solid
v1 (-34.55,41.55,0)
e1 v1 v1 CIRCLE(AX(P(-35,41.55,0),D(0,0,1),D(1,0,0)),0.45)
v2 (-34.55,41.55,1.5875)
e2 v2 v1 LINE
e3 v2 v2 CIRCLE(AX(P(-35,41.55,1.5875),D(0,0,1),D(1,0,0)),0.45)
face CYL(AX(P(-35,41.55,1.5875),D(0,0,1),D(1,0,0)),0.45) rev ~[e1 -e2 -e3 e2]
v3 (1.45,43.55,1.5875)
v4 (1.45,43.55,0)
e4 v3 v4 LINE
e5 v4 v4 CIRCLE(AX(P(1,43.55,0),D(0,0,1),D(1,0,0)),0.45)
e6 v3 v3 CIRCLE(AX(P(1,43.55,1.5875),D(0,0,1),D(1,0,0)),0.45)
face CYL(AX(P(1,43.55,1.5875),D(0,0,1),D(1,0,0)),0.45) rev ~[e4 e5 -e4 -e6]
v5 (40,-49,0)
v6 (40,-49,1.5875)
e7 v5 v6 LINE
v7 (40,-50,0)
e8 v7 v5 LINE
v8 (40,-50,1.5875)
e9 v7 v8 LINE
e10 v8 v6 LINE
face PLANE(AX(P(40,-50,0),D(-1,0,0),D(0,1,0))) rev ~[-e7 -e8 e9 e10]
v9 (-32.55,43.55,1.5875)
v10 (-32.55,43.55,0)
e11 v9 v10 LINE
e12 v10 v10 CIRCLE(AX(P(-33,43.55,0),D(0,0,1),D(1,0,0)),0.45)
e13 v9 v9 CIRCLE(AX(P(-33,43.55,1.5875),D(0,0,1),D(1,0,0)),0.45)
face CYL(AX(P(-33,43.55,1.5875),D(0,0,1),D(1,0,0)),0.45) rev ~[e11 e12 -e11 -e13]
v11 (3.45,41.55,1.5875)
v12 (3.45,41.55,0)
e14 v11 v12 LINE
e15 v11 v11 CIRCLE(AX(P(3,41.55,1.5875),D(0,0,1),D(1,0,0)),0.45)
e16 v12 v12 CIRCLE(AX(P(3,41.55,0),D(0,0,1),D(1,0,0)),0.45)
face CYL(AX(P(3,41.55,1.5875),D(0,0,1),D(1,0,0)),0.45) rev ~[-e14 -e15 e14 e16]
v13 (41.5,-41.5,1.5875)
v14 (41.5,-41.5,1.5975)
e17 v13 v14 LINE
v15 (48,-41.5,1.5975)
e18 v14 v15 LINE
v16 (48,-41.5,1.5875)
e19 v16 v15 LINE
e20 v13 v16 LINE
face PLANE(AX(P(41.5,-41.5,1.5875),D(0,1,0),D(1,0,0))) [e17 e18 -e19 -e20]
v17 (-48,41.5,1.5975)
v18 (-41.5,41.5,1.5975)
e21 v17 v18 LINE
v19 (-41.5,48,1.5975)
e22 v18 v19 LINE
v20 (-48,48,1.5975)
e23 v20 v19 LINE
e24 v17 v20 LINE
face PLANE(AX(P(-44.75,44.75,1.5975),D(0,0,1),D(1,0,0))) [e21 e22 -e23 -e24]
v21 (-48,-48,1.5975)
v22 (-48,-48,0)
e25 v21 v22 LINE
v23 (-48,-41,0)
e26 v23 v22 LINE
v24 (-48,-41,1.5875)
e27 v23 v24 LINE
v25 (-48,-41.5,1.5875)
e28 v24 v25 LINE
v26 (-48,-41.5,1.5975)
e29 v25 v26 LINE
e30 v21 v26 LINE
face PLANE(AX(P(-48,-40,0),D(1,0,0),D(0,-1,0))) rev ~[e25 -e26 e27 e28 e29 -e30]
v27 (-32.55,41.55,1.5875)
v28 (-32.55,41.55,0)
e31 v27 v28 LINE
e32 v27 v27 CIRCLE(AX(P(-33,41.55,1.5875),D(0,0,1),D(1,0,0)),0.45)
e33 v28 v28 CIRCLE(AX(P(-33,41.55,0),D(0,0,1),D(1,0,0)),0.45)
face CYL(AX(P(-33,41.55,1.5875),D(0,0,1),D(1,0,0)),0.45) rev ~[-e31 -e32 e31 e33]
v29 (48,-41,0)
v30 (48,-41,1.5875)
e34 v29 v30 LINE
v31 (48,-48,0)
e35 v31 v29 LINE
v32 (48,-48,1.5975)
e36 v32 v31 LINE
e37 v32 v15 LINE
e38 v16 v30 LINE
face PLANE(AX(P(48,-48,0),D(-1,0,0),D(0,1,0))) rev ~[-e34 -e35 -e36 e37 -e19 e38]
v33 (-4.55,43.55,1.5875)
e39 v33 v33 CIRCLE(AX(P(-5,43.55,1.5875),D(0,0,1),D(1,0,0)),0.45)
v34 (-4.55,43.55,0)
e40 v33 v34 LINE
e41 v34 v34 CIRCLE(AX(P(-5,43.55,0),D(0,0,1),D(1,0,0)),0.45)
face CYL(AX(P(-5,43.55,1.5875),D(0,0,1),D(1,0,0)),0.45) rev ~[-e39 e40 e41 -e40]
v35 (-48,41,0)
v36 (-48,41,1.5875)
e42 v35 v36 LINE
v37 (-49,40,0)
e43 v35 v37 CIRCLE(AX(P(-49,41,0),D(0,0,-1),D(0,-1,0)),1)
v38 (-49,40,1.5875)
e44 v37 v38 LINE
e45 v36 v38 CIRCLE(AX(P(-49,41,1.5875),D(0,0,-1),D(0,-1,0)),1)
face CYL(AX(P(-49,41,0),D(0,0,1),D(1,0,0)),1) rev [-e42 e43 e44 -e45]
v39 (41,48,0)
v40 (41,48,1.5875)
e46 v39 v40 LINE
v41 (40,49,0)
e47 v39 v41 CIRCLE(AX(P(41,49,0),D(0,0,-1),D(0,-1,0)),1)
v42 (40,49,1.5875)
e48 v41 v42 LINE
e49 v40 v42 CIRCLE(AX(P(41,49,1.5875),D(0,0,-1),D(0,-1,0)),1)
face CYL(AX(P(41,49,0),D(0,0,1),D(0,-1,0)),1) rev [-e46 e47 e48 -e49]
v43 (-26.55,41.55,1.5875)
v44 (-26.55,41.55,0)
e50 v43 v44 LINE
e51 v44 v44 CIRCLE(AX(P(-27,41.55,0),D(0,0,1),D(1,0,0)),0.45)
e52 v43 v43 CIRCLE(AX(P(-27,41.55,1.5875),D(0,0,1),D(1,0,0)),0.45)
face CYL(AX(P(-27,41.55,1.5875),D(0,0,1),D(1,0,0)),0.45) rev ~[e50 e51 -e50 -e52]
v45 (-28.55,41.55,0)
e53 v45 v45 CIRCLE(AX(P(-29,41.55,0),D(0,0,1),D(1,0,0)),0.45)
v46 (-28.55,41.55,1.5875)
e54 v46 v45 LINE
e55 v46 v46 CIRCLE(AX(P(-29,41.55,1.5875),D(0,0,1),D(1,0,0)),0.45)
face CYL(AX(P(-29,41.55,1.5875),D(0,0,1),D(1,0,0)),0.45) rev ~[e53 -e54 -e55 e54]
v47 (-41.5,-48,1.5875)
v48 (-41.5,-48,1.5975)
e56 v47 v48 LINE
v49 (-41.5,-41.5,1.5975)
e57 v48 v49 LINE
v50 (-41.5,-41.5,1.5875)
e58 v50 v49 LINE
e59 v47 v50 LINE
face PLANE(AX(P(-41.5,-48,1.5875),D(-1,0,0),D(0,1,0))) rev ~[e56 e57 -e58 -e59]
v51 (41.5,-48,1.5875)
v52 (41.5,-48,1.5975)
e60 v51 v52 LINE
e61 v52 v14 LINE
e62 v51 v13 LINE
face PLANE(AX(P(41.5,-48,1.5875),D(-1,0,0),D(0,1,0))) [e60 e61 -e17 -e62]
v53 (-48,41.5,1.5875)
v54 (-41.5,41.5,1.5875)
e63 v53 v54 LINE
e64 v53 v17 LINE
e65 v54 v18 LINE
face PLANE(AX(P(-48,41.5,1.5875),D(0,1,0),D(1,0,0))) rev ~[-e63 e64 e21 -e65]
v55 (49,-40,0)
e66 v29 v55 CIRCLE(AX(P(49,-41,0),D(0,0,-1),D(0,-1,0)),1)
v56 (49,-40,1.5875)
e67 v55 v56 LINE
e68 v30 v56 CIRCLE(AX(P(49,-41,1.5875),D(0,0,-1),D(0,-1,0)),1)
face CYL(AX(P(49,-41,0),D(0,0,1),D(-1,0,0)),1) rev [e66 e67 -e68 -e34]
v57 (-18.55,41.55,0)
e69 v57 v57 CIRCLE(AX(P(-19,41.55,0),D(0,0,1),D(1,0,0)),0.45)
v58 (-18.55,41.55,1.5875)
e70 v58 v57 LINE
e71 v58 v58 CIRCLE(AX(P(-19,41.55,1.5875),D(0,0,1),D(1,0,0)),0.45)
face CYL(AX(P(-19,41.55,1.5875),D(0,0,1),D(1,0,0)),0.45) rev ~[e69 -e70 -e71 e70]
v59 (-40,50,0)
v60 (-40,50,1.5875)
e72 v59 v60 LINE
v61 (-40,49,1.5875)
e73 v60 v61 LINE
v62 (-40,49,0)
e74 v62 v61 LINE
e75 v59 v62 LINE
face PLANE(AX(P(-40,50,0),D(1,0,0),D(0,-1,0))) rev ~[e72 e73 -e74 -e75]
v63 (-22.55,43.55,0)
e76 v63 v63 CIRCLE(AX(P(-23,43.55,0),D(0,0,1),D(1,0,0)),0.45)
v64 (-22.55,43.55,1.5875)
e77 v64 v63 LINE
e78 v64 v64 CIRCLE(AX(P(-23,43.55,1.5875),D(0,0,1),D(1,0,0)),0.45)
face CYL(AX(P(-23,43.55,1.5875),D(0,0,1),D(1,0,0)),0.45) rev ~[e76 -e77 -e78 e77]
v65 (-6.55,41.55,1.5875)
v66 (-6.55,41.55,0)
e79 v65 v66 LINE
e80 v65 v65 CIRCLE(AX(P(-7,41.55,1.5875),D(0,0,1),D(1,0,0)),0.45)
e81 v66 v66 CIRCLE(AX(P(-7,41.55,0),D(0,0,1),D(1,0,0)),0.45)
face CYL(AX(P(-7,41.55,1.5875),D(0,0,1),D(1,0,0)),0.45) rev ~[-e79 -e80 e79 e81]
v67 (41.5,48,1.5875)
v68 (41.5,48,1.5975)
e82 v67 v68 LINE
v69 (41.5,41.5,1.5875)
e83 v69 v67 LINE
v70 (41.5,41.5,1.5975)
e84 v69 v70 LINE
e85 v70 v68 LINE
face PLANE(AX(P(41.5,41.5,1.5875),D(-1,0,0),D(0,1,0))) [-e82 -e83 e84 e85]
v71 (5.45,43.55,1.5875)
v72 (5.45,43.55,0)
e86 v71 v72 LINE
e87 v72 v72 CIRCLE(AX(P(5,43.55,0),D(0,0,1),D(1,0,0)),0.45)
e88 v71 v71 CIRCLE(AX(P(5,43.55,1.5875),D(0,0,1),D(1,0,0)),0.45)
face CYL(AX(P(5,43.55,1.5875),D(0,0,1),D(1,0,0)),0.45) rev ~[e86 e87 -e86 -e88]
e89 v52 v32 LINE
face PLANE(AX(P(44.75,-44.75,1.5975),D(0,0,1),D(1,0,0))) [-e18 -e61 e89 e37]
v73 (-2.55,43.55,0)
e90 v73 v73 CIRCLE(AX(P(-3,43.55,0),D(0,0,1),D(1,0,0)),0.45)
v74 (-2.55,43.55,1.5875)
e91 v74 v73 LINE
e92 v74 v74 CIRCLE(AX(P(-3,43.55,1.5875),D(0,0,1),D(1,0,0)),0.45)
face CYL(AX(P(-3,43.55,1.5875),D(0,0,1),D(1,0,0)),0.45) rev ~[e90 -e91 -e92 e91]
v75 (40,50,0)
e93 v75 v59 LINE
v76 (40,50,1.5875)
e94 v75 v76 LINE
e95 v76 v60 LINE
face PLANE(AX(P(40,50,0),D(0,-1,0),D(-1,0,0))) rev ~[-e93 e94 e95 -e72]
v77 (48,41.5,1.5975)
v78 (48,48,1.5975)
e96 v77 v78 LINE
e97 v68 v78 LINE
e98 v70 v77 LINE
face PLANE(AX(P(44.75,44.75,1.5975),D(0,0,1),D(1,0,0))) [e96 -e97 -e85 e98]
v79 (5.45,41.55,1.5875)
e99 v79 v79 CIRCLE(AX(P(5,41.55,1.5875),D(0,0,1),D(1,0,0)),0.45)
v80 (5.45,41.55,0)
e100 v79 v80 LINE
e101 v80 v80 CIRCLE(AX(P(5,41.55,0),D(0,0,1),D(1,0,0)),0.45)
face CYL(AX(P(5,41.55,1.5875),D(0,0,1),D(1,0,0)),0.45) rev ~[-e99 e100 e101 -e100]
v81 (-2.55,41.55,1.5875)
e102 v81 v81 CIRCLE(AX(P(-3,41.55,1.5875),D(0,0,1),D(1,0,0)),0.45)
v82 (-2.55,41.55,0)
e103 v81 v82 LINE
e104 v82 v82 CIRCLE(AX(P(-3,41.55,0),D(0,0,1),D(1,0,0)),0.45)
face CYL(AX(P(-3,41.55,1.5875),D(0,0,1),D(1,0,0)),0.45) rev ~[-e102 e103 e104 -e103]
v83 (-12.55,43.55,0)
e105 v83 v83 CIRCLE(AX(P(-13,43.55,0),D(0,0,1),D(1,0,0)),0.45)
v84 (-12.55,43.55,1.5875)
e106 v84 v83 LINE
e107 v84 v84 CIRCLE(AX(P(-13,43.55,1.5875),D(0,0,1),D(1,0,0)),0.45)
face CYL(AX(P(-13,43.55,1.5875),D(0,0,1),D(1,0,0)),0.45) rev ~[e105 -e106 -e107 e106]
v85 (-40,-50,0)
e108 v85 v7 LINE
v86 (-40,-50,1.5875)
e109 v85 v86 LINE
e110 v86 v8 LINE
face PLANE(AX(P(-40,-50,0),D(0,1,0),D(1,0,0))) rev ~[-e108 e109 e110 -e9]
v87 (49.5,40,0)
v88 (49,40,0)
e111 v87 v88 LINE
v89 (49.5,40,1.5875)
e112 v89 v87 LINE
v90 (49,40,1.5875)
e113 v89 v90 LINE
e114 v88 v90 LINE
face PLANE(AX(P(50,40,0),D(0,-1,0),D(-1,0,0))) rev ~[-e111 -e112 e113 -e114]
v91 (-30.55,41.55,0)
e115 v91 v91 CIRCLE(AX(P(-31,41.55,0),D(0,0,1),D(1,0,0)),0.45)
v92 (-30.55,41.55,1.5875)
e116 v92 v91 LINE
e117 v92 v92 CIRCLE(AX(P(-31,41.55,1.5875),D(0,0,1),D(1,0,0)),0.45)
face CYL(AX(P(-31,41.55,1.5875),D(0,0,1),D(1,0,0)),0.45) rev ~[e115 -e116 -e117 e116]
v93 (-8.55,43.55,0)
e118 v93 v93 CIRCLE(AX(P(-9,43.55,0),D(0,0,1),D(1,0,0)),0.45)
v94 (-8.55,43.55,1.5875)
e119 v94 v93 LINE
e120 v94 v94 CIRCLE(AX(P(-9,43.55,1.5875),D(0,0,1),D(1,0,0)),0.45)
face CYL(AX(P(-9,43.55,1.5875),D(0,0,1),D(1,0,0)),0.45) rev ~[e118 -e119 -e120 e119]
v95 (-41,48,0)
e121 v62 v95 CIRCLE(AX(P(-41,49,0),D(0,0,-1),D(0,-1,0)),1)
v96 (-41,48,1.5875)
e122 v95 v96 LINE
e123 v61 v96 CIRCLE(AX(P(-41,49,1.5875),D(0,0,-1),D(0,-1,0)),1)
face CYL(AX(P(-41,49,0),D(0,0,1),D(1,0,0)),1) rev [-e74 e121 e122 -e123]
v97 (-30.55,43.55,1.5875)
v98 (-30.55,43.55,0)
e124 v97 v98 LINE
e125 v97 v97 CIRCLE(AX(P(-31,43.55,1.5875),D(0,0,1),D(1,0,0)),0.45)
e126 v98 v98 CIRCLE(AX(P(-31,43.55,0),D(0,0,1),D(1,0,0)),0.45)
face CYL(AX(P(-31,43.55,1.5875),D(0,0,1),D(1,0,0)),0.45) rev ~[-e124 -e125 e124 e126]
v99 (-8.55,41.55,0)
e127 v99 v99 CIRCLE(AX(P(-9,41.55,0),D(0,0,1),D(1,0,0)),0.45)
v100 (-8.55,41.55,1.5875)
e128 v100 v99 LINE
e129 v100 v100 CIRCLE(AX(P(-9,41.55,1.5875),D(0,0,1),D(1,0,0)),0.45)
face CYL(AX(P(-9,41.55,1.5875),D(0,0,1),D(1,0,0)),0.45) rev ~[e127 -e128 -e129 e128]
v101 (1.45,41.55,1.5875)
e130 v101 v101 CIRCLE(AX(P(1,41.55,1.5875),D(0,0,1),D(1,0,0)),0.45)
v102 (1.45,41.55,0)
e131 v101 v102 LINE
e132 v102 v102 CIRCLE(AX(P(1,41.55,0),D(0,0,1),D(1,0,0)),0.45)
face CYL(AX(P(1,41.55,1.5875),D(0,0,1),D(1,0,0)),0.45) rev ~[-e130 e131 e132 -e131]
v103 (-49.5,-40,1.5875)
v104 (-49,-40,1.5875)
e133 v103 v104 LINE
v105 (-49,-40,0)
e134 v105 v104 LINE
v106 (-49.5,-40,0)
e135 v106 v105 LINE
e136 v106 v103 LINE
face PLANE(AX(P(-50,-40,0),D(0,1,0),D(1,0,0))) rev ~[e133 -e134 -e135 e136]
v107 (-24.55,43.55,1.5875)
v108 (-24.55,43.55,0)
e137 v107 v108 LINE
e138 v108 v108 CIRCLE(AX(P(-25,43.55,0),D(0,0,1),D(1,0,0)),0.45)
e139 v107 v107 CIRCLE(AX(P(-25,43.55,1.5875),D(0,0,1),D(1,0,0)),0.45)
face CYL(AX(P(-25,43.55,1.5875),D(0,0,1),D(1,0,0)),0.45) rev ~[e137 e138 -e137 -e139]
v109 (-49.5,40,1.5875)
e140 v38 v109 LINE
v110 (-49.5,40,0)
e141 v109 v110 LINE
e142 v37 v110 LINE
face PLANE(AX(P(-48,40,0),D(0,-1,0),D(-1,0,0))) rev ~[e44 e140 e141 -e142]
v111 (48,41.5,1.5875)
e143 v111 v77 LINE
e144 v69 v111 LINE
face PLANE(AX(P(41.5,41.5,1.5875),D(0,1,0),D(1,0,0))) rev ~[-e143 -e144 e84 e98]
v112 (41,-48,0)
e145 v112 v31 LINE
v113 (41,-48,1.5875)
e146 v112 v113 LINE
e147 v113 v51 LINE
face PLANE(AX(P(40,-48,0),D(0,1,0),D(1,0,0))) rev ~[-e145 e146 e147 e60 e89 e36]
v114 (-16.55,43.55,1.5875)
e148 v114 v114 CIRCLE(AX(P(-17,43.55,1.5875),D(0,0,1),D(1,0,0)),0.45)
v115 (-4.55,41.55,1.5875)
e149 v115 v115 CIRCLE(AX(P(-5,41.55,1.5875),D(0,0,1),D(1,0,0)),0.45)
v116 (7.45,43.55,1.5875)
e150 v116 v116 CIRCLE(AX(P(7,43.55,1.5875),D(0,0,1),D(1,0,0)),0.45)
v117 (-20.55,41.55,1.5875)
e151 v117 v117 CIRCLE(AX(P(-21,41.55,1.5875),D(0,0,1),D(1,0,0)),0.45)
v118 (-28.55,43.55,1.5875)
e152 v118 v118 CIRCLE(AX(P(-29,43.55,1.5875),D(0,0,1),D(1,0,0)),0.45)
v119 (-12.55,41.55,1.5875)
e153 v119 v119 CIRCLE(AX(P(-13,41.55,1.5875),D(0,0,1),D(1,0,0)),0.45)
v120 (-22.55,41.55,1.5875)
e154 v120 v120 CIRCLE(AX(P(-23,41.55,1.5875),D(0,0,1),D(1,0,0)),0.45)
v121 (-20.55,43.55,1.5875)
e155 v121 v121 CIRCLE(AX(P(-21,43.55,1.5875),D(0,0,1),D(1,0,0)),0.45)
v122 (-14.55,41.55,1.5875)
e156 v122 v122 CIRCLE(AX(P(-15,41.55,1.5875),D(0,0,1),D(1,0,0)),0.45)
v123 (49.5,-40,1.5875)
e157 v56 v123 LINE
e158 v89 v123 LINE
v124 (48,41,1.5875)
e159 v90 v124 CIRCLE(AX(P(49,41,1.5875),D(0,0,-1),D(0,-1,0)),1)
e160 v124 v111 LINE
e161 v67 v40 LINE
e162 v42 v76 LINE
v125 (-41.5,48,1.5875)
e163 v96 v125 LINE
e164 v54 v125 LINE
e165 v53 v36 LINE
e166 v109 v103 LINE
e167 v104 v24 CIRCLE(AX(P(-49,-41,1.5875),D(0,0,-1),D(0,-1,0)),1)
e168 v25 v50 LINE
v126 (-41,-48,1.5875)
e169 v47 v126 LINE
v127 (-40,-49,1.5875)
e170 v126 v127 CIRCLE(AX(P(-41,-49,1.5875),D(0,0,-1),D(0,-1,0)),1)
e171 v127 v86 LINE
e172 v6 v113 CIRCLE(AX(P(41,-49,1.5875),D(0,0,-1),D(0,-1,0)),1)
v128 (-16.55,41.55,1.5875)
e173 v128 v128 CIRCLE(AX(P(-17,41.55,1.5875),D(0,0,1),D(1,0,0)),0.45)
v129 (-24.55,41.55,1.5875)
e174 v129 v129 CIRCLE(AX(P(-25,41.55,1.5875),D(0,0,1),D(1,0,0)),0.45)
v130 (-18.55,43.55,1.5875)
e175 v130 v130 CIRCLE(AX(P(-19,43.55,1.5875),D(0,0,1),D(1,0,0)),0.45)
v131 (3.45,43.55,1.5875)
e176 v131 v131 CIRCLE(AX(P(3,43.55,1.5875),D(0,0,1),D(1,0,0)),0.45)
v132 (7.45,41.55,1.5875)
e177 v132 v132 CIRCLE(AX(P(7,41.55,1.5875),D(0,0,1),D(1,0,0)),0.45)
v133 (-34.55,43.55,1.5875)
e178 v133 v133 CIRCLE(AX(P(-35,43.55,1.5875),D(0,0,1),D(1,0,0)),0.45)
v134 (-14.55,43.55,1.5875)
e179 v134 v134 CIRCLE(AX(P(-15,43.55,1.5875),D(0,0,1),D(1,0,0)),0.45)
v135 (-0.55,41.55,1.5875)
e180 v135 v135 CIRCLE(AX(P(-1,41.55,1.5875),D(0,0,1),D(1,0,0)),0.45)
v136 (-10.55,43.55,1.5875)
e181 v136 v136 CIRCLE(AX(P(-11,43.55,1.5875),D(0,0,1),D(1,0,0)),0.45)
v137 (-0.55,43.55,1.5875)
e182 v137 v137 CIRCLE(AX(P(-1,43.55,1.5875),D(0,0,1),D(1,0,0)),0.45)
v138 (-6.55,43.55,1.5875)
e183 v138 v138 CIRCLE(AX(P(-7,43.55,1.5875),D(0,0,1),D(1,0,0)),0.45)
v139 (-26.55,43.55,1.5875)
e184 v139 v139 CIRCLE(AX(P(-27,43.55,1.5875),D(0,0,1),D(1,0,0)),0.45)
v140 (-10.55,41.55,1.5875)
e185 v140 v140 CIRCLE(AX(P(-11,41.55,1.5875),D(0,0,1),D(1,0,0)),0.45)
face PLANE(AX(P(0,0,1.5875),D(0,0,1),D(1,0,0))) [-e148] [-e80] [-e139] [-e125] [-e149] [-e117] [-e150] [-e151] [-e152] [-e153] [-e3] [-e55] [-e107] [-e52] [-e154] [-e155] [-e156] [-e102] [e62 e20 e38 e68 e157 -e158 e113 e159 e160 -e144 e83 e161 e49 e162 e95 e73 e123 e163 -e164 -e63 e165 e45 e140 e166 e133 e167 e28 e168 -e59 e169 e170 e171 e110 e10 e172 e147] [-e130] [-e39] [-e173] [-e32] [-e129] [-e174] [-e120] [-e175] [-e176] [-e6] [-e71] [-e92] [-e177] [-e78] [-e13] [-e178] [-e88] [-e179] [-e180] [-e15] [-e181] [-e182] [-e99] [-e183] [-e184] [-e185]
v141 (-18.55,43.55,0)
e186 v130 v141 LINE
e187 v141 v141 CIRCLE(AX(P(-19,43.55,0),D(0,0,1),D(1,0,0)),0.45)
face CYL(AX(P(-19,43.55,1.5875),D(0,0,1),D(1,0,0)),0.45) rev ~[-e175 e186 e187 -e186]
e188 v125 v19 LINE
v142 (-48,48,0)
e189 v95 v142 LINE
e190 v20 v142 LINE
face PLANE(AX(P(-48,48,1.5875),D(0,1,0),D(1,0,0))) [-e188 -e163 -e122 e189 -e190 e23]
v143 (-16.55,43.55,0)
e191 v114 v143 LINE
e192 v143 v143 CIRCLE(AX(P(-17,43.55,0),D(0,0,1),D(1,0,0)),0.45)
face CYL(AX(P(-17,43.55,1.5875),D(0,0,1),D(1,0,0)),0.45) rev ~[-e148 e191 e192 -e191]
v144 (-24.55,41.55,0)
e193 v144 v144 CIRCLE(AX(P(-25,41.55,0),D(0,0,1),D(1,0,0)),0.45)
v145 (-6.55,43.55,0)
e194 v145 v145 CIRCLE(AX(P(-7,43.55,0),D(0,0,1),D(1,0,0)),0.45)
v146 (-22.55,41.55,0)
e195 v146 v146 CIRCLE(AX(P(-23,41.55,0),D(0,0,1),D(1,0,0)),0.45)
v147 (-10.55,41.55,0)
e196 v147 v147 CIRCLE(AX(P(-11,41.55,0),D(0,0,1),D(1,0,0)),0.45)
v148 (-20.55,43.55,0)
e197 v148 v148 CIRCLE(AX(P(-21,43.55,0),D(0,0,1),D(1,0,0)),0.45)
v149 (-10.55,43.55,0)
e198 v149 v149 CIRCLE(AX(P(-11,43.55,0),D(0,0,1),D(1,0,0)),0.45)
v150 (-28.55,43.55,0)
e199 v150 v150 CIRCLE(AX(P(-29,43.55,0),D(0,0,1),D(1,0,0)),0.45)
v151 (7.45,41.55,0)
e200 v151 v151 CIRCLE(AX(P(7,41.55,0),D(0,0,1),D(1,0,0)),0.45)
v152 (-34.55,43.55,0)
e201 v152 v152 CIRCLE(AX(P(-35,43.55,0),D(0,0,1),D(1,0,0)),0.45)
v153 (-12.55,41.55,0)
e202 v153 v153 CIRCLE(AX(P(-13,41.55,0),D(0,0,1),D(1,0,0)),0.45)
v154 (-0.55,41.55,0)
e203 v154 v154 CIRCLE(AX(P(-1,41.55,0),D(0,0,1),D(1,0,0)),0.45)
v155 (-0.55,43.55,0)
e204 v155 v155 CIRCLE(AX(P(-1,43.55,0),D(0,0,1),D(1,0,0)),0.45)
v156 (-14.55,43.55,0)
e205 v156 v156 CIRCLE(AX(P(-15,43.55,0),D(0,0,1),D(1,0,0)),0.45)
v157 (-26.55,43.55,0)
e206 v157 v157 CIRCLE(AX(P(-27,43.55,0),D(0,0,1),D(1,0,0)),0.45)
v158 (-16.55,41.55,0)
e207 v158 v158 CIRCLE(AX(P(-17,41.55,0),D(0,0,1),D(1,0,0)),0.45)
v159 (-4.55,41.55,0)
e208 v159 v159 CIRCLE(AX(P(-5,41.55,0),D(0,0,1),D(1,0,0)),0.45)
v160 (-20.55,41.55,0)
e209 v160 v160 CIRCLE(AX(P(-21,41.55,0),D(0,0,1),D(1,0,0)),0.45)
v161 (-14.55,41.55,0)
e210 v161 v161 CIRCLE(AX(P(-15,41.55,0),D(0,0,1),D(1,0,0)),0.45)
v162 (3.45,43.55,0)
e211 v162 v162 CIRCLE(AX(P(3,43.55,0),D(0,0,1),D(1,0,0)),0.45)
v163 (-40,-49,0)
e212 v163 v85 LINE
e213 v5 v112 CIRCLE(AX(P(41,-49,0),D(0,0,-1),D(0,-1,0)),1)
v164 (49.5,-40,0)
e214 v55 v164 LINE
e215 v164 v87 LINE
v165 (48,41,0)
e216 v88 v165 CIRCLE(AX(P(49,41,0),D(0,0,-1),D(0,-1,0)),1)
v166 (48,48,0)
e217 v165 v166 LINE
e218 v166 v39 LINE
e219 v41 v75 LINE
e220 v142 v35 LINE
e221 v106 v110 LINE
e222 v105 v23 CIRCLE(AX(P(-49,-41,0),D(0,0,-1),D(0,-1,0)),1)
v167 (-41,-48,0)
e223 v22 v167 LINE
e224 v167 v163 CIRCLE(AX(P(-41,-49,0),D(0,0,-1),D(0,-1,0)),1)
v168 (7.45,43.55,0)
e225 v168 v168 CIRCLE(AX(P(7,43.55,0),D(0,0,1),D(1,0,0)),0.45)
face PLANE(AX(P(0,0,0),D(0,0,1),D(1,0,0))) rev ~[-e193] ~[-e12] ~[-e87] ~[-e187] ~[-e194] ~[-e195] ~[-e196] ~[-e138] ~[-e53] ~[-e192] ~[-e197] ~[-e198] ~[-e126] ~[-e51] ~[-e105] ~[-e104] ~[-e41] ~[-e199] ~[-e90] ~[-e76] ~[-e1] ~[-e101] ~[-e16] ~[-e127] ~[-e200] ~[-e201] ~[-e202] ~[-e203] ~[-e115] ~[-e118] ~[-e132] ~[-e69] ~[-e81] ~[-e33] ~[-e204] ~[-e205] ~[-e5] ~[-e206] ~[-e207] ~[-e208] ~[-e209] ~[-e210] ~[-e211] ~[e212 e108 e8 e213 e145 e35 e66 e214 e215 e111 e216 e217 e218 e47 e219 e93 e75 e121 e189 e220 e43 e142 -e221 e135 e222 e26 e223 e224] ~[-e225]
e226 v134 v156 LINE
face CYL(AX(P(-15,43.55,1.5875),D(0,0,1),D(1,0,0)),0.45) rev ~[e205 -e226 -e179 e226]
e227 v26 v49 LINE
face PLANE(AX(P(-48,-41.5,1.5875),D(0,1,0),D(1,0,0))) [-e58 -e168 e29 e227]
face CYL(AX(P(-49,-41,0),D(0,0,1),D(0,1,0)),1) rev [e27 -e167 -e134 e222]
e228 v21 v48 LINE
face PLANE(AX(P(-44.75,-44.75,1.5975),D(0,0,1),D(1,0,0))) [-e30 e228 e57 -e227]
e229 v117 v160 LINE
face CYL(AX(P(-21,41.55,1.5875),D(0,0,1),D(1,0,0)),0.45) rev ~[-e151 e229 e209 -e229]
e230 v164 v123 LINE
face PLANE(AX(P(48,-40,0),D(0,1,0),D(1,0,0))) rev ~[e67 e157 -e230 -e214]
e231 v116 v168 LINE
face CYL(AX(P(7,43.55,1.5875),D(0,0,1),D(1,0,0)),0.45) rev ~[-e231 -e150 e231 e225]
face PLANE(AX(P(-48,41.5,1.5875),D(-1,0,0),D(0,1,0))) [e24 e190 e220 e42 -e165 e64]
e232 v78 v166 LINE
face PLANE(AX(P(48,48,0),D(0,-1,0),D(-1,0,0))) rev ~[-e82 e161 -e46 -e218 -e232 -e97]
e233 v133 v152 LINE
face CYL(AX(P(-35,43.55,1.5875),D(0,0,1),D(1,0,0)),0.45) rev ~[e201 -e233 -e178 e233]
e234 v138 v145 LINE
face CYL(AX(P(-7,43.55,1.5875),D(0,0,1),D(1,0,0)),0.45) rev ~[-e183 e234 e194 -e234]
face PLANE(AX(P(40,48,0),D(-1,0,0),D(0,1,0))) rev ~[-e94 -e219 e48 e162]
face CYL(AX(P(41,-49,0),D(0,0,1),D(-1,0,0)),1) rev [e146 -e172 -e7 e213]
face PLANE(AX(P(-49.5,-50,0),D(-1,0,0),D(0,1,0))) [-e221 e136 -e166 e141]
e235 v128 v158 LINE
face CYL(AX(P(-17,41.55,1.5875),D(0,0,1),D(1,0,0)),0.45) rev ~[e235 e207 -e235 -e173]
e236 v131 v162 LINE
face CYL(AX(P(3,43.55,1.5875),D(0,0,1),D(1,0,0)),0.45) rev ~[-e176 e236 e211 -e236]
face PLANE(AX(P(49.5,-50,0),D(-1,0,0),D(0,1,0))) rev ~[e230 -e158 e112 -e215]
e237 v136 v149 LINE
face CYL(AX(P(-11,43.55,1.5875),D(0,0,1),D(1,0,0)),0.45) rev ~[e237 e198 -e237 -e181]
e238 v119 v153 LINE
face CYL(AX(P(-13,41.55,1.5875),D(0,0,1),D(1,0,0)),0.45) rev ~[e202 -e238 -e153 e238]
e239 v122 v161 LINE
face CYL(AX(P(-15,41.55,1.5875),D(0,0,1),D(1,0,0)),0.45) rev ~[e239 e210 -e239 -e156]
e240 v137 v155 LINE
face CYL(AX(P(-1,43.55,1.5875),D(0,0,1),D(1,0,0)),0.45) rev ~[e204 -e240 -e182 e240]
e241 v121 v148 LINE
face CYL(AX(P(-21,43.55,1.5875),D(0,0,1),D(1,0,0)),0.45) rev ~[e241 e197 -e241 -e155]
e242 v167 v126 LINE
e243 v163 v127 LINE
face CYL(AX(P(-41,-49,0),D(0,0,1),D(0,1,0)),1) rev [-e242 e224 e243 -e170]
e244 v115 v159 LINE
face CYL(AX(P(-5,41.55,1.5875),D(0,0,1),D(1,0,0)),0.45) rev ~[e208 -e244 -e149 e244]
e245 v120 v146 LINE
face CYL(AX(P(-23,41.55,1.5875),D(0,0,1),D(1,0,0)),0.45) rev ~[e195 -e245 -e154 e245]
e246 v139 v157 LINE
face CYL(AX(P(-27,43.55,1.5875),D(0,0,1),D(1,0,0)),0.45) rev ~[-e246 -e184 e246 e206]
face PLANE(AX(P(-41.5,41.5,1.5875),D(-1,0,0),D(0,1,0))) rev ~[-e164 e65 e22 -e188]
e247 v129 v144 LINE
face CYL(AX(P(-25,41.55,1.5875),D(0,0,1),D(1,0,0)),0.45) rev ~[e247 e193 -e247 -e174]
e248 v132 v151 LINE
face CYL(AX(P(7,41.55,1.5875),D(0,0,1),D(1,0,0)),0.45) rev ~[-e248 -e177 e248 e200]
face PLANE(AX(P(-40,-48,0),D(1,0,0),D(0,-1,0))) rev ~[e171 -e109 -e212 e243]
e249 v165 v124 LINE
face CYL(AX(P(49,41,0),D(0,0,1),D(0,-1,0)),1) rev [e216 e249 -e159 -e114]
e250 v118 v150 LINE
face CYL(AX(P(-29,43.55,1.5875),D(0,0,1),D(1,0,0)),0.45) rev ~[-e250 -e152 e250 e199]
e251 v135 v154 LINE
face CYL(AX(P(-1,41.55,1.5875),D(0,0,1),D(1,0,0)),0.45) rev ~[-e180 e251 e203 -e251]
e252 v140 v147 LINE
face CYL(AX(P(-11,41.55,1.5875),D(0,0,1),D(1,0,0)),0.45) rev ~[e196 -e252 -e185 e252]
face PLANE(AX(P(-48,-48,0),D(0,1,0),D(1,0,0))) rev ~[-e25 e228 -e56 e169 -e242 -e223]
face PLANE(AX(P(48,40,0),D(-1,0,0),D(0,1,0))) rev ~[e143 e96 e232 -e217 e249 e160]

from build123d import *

# Parameters (mm, degrees)
BOSS_EXTRUDE1_DEPTH = 1.5875
FILLET1_R           = 1
SKETCH2_R           = 0.45
CUT_EXTRUDE1_DEPTH  = 71.728496069
SKETCH4_W           = 6.5
SKETCH4_H           = 6.5
BOSS_EXTRUDE2_DEPTH = 0.01
SKETCH5_OUTSIDE_W   = 130.286
SKETCH5_OUTSIDE_H   = 130.286
SKETCH5_OUTSIDE_W_2 = 99
SKETCH5_OUTSIDE_H_2 = 100
CUT_EXTRUDE3_DEPTH  = 71.728721226


with BuildPart() as part:
    # Sketch1 → Boss-Extrude1 (new body)
    with BuildSketch(Plane.XY):
        Polygon((40, 50), (-40, 50), (-40, 48), (-48, 48), (-48, 40), (-50, 40), (-50, -37.864895224), (-50, -40), (-48, -40), (-48, -48), (-40, -48), (-40, -50), (-37.864895224, -50), (40, -50), (40, -48), (48, -48), (48, -40), (50, -40), (50, 40), (48, 40), (48, 48), (40, 48), align=None)
    extrude(amount=BOSS_EXTRUDE1_DEPTH)

    # Fillet1
    fillet1_edges = [part.edges().sort_by_distance(p)[0] for p in [
        (-48, -40, 0.79375),
        (-48, 40, 0.79375),
        (-40, 48, 0.79375),
        (40, 48, 0.79375),
        (48, 40, 0.79375),
        (48, -40, 0.79375),
        (40, -48, 0.79375),
        (-40, -48, 0.79375),
    ]]
    fillet(fillet1_edges, radius=FILLET1_R)

    # Sketch2 → Cut-Extrude1 (cut, through all)
    with BuildSketch(Plane.XY.offset(1.5875)):
        with Locations((-35, 43.55)):
            Circle(SKETCH2_R)
        with Locations((-33, 43.55)):
            Circle(SKETCH2_R)
        with Locations((-31, 43.55)):
            Circle(SKETCH2_R)
        with Locations((-29, 43.55)):
            Circle(SKETCH2_R)
        with Locations((-27, 43.55)):
            Circle(SKETCH2_R)
        with Locations((-25, 43.55)):
            Circle(SKETCH2_R)
        with Locations((-23, 43.55)):
            Circle(SKETCH2_R)
        with Locations((-21, 43.55)):
            Circle(SKETCH2_R)
        with Locations((-19, 43.55)):
            Circle(SKETCH2_R)
        with Locations((-17, 43.55)):
            Circle(SKETCH2_R)
        with Locations((-15, 43.55)):
            Circle(SKETCH2_R)
        with Locations((-13, 43.55)):
            Circle(SKETCH2_R)
        with Locations((-11, 43.55)):
            Circle(SKETCH2_R)
        with Locations((-9, 43.55)):
            Circle(SKETCH2_R)
        with Locations((-7, 43.55)):
            Circle(SKETCH2_R)
        with Locations((-5, 43.55)):
            Circle(SKETCH2_R)
        with Locations((-3, 43.55)):
            Circle(SKETCH2_R)
        with Locations((-1, 43.55)):
            Circle(SKETCH2_R)
        with Locations((1, 43.55)):
            Circle(SKETCH2_R)
        with Locations((3, 43.55)):
            Circle(SKETCH2_R)
        with Locations((5, 43.55)):
            Circle(SKETCH2_R)
        with Locations((7, 43.55)):
            Circle(SKETCH2_R)
        with Locations((-33, 41.55)):
            Circle(SKETCH2_R)
        with Locations((-31, 41.55)):
            Circle(SKETCH2_R)
        with Locations((-29, 41.55)):
            Circle(SKETCH2_R)
        with Locations((-27, 41.55)):
            Circle(SKETCH2_R)
        with Locations((-25, 41.55)):
            Circle(SKETCH2_R)
        with Locations((-23, 41.55)):
            Circle(SKETCH2_R)
        with Locations((-21, 41.55)):
            Circle(SKETCH2_R)
        with Locations((-19, 41.55)):
            Circle(SKETCH2_R)
        with Locations((-17, 41.55)):
            Circle(SKETCH2_R)
        with Locations((-15, 41.55)):
            Circle(SKETCH2_R)
        with Locations((-13, 41.55)):
            Circle(SKETCH2_R)
        with Locations((-11, 41.55)):
            Circle(SKETCH2_R)
        with Locations((-9, 41.55)):
            Circle(SKETCH2_R)
        with Locations((-7, 41.55)):
            Circle(SKETCH2_R)
        with Locations((-5, 41.55)):
            Circle(SKETCH2_R)
        with Locations((-3, 41.55)):
            Circle(SKETCH2_R)
        with Locations((-1, 41.55)):
            Circle(SKETCH2_R)
        with Locations((1, 41.55)):
            Circle(SKETCH2_R)
        with Locations((3, 41.55)):
            Circle(SKETCH2_R)
        with Locations((5, 41.55)):
            Circle(SKETCH2_R)
        with Locations((7, 41.55)):
            Circle(SKETCH2_R)
        with Locations((-35, 41.55)):
            Circle(SKETCH2_R)
    extrude(amount=-CUT_EXTRUDE1_DEPTH, mode=Mode.SUBTRACT)

    # Sketch4 → Boss-Extrude2 (add)
    with BuildSketch(Plane.XY.offset(1.5875)):
        with Locations((-44.75, 44.75)):
            Rectangle(SKETCH4_W, SKETCH4_H)
        with Locations((-44.75, -44.75)):
            Rectangle(SKETCH4_W, SKETCH4_H)
        with Locations((44.75, -44.75)):
            Rectangle(SKETCH4_W, SKETCH4_H)
        with Locations((44.75, 44.75)):
            Rectangle(SKETCH4_W, SKETCH4_H)
    extrude(amount=BOSS_EXTRUDE2_DEPTH)

    # Sketch5 outside → Cut-Extrude3 (cut, through all)
    with BuildSketch(Plane(origin=(0, 0, 0), x_dir=(-1, 0, 0), z_dir=(0, 0, -1))):
        Rectangle(SKETCH5_OUTSIDE_W, SKETCH5_OUTSIDE_H)
        Rectangle(SKETCH5_OUTSIDE_W_2, SKETCH5_OUTSIDE_H_2, mode=Mode.SUBTRACT)
    extrude(amount=-CUT_EXTRUDE3_DEPTH, mode=Mode.SUBTRACT)


solid = part.part
